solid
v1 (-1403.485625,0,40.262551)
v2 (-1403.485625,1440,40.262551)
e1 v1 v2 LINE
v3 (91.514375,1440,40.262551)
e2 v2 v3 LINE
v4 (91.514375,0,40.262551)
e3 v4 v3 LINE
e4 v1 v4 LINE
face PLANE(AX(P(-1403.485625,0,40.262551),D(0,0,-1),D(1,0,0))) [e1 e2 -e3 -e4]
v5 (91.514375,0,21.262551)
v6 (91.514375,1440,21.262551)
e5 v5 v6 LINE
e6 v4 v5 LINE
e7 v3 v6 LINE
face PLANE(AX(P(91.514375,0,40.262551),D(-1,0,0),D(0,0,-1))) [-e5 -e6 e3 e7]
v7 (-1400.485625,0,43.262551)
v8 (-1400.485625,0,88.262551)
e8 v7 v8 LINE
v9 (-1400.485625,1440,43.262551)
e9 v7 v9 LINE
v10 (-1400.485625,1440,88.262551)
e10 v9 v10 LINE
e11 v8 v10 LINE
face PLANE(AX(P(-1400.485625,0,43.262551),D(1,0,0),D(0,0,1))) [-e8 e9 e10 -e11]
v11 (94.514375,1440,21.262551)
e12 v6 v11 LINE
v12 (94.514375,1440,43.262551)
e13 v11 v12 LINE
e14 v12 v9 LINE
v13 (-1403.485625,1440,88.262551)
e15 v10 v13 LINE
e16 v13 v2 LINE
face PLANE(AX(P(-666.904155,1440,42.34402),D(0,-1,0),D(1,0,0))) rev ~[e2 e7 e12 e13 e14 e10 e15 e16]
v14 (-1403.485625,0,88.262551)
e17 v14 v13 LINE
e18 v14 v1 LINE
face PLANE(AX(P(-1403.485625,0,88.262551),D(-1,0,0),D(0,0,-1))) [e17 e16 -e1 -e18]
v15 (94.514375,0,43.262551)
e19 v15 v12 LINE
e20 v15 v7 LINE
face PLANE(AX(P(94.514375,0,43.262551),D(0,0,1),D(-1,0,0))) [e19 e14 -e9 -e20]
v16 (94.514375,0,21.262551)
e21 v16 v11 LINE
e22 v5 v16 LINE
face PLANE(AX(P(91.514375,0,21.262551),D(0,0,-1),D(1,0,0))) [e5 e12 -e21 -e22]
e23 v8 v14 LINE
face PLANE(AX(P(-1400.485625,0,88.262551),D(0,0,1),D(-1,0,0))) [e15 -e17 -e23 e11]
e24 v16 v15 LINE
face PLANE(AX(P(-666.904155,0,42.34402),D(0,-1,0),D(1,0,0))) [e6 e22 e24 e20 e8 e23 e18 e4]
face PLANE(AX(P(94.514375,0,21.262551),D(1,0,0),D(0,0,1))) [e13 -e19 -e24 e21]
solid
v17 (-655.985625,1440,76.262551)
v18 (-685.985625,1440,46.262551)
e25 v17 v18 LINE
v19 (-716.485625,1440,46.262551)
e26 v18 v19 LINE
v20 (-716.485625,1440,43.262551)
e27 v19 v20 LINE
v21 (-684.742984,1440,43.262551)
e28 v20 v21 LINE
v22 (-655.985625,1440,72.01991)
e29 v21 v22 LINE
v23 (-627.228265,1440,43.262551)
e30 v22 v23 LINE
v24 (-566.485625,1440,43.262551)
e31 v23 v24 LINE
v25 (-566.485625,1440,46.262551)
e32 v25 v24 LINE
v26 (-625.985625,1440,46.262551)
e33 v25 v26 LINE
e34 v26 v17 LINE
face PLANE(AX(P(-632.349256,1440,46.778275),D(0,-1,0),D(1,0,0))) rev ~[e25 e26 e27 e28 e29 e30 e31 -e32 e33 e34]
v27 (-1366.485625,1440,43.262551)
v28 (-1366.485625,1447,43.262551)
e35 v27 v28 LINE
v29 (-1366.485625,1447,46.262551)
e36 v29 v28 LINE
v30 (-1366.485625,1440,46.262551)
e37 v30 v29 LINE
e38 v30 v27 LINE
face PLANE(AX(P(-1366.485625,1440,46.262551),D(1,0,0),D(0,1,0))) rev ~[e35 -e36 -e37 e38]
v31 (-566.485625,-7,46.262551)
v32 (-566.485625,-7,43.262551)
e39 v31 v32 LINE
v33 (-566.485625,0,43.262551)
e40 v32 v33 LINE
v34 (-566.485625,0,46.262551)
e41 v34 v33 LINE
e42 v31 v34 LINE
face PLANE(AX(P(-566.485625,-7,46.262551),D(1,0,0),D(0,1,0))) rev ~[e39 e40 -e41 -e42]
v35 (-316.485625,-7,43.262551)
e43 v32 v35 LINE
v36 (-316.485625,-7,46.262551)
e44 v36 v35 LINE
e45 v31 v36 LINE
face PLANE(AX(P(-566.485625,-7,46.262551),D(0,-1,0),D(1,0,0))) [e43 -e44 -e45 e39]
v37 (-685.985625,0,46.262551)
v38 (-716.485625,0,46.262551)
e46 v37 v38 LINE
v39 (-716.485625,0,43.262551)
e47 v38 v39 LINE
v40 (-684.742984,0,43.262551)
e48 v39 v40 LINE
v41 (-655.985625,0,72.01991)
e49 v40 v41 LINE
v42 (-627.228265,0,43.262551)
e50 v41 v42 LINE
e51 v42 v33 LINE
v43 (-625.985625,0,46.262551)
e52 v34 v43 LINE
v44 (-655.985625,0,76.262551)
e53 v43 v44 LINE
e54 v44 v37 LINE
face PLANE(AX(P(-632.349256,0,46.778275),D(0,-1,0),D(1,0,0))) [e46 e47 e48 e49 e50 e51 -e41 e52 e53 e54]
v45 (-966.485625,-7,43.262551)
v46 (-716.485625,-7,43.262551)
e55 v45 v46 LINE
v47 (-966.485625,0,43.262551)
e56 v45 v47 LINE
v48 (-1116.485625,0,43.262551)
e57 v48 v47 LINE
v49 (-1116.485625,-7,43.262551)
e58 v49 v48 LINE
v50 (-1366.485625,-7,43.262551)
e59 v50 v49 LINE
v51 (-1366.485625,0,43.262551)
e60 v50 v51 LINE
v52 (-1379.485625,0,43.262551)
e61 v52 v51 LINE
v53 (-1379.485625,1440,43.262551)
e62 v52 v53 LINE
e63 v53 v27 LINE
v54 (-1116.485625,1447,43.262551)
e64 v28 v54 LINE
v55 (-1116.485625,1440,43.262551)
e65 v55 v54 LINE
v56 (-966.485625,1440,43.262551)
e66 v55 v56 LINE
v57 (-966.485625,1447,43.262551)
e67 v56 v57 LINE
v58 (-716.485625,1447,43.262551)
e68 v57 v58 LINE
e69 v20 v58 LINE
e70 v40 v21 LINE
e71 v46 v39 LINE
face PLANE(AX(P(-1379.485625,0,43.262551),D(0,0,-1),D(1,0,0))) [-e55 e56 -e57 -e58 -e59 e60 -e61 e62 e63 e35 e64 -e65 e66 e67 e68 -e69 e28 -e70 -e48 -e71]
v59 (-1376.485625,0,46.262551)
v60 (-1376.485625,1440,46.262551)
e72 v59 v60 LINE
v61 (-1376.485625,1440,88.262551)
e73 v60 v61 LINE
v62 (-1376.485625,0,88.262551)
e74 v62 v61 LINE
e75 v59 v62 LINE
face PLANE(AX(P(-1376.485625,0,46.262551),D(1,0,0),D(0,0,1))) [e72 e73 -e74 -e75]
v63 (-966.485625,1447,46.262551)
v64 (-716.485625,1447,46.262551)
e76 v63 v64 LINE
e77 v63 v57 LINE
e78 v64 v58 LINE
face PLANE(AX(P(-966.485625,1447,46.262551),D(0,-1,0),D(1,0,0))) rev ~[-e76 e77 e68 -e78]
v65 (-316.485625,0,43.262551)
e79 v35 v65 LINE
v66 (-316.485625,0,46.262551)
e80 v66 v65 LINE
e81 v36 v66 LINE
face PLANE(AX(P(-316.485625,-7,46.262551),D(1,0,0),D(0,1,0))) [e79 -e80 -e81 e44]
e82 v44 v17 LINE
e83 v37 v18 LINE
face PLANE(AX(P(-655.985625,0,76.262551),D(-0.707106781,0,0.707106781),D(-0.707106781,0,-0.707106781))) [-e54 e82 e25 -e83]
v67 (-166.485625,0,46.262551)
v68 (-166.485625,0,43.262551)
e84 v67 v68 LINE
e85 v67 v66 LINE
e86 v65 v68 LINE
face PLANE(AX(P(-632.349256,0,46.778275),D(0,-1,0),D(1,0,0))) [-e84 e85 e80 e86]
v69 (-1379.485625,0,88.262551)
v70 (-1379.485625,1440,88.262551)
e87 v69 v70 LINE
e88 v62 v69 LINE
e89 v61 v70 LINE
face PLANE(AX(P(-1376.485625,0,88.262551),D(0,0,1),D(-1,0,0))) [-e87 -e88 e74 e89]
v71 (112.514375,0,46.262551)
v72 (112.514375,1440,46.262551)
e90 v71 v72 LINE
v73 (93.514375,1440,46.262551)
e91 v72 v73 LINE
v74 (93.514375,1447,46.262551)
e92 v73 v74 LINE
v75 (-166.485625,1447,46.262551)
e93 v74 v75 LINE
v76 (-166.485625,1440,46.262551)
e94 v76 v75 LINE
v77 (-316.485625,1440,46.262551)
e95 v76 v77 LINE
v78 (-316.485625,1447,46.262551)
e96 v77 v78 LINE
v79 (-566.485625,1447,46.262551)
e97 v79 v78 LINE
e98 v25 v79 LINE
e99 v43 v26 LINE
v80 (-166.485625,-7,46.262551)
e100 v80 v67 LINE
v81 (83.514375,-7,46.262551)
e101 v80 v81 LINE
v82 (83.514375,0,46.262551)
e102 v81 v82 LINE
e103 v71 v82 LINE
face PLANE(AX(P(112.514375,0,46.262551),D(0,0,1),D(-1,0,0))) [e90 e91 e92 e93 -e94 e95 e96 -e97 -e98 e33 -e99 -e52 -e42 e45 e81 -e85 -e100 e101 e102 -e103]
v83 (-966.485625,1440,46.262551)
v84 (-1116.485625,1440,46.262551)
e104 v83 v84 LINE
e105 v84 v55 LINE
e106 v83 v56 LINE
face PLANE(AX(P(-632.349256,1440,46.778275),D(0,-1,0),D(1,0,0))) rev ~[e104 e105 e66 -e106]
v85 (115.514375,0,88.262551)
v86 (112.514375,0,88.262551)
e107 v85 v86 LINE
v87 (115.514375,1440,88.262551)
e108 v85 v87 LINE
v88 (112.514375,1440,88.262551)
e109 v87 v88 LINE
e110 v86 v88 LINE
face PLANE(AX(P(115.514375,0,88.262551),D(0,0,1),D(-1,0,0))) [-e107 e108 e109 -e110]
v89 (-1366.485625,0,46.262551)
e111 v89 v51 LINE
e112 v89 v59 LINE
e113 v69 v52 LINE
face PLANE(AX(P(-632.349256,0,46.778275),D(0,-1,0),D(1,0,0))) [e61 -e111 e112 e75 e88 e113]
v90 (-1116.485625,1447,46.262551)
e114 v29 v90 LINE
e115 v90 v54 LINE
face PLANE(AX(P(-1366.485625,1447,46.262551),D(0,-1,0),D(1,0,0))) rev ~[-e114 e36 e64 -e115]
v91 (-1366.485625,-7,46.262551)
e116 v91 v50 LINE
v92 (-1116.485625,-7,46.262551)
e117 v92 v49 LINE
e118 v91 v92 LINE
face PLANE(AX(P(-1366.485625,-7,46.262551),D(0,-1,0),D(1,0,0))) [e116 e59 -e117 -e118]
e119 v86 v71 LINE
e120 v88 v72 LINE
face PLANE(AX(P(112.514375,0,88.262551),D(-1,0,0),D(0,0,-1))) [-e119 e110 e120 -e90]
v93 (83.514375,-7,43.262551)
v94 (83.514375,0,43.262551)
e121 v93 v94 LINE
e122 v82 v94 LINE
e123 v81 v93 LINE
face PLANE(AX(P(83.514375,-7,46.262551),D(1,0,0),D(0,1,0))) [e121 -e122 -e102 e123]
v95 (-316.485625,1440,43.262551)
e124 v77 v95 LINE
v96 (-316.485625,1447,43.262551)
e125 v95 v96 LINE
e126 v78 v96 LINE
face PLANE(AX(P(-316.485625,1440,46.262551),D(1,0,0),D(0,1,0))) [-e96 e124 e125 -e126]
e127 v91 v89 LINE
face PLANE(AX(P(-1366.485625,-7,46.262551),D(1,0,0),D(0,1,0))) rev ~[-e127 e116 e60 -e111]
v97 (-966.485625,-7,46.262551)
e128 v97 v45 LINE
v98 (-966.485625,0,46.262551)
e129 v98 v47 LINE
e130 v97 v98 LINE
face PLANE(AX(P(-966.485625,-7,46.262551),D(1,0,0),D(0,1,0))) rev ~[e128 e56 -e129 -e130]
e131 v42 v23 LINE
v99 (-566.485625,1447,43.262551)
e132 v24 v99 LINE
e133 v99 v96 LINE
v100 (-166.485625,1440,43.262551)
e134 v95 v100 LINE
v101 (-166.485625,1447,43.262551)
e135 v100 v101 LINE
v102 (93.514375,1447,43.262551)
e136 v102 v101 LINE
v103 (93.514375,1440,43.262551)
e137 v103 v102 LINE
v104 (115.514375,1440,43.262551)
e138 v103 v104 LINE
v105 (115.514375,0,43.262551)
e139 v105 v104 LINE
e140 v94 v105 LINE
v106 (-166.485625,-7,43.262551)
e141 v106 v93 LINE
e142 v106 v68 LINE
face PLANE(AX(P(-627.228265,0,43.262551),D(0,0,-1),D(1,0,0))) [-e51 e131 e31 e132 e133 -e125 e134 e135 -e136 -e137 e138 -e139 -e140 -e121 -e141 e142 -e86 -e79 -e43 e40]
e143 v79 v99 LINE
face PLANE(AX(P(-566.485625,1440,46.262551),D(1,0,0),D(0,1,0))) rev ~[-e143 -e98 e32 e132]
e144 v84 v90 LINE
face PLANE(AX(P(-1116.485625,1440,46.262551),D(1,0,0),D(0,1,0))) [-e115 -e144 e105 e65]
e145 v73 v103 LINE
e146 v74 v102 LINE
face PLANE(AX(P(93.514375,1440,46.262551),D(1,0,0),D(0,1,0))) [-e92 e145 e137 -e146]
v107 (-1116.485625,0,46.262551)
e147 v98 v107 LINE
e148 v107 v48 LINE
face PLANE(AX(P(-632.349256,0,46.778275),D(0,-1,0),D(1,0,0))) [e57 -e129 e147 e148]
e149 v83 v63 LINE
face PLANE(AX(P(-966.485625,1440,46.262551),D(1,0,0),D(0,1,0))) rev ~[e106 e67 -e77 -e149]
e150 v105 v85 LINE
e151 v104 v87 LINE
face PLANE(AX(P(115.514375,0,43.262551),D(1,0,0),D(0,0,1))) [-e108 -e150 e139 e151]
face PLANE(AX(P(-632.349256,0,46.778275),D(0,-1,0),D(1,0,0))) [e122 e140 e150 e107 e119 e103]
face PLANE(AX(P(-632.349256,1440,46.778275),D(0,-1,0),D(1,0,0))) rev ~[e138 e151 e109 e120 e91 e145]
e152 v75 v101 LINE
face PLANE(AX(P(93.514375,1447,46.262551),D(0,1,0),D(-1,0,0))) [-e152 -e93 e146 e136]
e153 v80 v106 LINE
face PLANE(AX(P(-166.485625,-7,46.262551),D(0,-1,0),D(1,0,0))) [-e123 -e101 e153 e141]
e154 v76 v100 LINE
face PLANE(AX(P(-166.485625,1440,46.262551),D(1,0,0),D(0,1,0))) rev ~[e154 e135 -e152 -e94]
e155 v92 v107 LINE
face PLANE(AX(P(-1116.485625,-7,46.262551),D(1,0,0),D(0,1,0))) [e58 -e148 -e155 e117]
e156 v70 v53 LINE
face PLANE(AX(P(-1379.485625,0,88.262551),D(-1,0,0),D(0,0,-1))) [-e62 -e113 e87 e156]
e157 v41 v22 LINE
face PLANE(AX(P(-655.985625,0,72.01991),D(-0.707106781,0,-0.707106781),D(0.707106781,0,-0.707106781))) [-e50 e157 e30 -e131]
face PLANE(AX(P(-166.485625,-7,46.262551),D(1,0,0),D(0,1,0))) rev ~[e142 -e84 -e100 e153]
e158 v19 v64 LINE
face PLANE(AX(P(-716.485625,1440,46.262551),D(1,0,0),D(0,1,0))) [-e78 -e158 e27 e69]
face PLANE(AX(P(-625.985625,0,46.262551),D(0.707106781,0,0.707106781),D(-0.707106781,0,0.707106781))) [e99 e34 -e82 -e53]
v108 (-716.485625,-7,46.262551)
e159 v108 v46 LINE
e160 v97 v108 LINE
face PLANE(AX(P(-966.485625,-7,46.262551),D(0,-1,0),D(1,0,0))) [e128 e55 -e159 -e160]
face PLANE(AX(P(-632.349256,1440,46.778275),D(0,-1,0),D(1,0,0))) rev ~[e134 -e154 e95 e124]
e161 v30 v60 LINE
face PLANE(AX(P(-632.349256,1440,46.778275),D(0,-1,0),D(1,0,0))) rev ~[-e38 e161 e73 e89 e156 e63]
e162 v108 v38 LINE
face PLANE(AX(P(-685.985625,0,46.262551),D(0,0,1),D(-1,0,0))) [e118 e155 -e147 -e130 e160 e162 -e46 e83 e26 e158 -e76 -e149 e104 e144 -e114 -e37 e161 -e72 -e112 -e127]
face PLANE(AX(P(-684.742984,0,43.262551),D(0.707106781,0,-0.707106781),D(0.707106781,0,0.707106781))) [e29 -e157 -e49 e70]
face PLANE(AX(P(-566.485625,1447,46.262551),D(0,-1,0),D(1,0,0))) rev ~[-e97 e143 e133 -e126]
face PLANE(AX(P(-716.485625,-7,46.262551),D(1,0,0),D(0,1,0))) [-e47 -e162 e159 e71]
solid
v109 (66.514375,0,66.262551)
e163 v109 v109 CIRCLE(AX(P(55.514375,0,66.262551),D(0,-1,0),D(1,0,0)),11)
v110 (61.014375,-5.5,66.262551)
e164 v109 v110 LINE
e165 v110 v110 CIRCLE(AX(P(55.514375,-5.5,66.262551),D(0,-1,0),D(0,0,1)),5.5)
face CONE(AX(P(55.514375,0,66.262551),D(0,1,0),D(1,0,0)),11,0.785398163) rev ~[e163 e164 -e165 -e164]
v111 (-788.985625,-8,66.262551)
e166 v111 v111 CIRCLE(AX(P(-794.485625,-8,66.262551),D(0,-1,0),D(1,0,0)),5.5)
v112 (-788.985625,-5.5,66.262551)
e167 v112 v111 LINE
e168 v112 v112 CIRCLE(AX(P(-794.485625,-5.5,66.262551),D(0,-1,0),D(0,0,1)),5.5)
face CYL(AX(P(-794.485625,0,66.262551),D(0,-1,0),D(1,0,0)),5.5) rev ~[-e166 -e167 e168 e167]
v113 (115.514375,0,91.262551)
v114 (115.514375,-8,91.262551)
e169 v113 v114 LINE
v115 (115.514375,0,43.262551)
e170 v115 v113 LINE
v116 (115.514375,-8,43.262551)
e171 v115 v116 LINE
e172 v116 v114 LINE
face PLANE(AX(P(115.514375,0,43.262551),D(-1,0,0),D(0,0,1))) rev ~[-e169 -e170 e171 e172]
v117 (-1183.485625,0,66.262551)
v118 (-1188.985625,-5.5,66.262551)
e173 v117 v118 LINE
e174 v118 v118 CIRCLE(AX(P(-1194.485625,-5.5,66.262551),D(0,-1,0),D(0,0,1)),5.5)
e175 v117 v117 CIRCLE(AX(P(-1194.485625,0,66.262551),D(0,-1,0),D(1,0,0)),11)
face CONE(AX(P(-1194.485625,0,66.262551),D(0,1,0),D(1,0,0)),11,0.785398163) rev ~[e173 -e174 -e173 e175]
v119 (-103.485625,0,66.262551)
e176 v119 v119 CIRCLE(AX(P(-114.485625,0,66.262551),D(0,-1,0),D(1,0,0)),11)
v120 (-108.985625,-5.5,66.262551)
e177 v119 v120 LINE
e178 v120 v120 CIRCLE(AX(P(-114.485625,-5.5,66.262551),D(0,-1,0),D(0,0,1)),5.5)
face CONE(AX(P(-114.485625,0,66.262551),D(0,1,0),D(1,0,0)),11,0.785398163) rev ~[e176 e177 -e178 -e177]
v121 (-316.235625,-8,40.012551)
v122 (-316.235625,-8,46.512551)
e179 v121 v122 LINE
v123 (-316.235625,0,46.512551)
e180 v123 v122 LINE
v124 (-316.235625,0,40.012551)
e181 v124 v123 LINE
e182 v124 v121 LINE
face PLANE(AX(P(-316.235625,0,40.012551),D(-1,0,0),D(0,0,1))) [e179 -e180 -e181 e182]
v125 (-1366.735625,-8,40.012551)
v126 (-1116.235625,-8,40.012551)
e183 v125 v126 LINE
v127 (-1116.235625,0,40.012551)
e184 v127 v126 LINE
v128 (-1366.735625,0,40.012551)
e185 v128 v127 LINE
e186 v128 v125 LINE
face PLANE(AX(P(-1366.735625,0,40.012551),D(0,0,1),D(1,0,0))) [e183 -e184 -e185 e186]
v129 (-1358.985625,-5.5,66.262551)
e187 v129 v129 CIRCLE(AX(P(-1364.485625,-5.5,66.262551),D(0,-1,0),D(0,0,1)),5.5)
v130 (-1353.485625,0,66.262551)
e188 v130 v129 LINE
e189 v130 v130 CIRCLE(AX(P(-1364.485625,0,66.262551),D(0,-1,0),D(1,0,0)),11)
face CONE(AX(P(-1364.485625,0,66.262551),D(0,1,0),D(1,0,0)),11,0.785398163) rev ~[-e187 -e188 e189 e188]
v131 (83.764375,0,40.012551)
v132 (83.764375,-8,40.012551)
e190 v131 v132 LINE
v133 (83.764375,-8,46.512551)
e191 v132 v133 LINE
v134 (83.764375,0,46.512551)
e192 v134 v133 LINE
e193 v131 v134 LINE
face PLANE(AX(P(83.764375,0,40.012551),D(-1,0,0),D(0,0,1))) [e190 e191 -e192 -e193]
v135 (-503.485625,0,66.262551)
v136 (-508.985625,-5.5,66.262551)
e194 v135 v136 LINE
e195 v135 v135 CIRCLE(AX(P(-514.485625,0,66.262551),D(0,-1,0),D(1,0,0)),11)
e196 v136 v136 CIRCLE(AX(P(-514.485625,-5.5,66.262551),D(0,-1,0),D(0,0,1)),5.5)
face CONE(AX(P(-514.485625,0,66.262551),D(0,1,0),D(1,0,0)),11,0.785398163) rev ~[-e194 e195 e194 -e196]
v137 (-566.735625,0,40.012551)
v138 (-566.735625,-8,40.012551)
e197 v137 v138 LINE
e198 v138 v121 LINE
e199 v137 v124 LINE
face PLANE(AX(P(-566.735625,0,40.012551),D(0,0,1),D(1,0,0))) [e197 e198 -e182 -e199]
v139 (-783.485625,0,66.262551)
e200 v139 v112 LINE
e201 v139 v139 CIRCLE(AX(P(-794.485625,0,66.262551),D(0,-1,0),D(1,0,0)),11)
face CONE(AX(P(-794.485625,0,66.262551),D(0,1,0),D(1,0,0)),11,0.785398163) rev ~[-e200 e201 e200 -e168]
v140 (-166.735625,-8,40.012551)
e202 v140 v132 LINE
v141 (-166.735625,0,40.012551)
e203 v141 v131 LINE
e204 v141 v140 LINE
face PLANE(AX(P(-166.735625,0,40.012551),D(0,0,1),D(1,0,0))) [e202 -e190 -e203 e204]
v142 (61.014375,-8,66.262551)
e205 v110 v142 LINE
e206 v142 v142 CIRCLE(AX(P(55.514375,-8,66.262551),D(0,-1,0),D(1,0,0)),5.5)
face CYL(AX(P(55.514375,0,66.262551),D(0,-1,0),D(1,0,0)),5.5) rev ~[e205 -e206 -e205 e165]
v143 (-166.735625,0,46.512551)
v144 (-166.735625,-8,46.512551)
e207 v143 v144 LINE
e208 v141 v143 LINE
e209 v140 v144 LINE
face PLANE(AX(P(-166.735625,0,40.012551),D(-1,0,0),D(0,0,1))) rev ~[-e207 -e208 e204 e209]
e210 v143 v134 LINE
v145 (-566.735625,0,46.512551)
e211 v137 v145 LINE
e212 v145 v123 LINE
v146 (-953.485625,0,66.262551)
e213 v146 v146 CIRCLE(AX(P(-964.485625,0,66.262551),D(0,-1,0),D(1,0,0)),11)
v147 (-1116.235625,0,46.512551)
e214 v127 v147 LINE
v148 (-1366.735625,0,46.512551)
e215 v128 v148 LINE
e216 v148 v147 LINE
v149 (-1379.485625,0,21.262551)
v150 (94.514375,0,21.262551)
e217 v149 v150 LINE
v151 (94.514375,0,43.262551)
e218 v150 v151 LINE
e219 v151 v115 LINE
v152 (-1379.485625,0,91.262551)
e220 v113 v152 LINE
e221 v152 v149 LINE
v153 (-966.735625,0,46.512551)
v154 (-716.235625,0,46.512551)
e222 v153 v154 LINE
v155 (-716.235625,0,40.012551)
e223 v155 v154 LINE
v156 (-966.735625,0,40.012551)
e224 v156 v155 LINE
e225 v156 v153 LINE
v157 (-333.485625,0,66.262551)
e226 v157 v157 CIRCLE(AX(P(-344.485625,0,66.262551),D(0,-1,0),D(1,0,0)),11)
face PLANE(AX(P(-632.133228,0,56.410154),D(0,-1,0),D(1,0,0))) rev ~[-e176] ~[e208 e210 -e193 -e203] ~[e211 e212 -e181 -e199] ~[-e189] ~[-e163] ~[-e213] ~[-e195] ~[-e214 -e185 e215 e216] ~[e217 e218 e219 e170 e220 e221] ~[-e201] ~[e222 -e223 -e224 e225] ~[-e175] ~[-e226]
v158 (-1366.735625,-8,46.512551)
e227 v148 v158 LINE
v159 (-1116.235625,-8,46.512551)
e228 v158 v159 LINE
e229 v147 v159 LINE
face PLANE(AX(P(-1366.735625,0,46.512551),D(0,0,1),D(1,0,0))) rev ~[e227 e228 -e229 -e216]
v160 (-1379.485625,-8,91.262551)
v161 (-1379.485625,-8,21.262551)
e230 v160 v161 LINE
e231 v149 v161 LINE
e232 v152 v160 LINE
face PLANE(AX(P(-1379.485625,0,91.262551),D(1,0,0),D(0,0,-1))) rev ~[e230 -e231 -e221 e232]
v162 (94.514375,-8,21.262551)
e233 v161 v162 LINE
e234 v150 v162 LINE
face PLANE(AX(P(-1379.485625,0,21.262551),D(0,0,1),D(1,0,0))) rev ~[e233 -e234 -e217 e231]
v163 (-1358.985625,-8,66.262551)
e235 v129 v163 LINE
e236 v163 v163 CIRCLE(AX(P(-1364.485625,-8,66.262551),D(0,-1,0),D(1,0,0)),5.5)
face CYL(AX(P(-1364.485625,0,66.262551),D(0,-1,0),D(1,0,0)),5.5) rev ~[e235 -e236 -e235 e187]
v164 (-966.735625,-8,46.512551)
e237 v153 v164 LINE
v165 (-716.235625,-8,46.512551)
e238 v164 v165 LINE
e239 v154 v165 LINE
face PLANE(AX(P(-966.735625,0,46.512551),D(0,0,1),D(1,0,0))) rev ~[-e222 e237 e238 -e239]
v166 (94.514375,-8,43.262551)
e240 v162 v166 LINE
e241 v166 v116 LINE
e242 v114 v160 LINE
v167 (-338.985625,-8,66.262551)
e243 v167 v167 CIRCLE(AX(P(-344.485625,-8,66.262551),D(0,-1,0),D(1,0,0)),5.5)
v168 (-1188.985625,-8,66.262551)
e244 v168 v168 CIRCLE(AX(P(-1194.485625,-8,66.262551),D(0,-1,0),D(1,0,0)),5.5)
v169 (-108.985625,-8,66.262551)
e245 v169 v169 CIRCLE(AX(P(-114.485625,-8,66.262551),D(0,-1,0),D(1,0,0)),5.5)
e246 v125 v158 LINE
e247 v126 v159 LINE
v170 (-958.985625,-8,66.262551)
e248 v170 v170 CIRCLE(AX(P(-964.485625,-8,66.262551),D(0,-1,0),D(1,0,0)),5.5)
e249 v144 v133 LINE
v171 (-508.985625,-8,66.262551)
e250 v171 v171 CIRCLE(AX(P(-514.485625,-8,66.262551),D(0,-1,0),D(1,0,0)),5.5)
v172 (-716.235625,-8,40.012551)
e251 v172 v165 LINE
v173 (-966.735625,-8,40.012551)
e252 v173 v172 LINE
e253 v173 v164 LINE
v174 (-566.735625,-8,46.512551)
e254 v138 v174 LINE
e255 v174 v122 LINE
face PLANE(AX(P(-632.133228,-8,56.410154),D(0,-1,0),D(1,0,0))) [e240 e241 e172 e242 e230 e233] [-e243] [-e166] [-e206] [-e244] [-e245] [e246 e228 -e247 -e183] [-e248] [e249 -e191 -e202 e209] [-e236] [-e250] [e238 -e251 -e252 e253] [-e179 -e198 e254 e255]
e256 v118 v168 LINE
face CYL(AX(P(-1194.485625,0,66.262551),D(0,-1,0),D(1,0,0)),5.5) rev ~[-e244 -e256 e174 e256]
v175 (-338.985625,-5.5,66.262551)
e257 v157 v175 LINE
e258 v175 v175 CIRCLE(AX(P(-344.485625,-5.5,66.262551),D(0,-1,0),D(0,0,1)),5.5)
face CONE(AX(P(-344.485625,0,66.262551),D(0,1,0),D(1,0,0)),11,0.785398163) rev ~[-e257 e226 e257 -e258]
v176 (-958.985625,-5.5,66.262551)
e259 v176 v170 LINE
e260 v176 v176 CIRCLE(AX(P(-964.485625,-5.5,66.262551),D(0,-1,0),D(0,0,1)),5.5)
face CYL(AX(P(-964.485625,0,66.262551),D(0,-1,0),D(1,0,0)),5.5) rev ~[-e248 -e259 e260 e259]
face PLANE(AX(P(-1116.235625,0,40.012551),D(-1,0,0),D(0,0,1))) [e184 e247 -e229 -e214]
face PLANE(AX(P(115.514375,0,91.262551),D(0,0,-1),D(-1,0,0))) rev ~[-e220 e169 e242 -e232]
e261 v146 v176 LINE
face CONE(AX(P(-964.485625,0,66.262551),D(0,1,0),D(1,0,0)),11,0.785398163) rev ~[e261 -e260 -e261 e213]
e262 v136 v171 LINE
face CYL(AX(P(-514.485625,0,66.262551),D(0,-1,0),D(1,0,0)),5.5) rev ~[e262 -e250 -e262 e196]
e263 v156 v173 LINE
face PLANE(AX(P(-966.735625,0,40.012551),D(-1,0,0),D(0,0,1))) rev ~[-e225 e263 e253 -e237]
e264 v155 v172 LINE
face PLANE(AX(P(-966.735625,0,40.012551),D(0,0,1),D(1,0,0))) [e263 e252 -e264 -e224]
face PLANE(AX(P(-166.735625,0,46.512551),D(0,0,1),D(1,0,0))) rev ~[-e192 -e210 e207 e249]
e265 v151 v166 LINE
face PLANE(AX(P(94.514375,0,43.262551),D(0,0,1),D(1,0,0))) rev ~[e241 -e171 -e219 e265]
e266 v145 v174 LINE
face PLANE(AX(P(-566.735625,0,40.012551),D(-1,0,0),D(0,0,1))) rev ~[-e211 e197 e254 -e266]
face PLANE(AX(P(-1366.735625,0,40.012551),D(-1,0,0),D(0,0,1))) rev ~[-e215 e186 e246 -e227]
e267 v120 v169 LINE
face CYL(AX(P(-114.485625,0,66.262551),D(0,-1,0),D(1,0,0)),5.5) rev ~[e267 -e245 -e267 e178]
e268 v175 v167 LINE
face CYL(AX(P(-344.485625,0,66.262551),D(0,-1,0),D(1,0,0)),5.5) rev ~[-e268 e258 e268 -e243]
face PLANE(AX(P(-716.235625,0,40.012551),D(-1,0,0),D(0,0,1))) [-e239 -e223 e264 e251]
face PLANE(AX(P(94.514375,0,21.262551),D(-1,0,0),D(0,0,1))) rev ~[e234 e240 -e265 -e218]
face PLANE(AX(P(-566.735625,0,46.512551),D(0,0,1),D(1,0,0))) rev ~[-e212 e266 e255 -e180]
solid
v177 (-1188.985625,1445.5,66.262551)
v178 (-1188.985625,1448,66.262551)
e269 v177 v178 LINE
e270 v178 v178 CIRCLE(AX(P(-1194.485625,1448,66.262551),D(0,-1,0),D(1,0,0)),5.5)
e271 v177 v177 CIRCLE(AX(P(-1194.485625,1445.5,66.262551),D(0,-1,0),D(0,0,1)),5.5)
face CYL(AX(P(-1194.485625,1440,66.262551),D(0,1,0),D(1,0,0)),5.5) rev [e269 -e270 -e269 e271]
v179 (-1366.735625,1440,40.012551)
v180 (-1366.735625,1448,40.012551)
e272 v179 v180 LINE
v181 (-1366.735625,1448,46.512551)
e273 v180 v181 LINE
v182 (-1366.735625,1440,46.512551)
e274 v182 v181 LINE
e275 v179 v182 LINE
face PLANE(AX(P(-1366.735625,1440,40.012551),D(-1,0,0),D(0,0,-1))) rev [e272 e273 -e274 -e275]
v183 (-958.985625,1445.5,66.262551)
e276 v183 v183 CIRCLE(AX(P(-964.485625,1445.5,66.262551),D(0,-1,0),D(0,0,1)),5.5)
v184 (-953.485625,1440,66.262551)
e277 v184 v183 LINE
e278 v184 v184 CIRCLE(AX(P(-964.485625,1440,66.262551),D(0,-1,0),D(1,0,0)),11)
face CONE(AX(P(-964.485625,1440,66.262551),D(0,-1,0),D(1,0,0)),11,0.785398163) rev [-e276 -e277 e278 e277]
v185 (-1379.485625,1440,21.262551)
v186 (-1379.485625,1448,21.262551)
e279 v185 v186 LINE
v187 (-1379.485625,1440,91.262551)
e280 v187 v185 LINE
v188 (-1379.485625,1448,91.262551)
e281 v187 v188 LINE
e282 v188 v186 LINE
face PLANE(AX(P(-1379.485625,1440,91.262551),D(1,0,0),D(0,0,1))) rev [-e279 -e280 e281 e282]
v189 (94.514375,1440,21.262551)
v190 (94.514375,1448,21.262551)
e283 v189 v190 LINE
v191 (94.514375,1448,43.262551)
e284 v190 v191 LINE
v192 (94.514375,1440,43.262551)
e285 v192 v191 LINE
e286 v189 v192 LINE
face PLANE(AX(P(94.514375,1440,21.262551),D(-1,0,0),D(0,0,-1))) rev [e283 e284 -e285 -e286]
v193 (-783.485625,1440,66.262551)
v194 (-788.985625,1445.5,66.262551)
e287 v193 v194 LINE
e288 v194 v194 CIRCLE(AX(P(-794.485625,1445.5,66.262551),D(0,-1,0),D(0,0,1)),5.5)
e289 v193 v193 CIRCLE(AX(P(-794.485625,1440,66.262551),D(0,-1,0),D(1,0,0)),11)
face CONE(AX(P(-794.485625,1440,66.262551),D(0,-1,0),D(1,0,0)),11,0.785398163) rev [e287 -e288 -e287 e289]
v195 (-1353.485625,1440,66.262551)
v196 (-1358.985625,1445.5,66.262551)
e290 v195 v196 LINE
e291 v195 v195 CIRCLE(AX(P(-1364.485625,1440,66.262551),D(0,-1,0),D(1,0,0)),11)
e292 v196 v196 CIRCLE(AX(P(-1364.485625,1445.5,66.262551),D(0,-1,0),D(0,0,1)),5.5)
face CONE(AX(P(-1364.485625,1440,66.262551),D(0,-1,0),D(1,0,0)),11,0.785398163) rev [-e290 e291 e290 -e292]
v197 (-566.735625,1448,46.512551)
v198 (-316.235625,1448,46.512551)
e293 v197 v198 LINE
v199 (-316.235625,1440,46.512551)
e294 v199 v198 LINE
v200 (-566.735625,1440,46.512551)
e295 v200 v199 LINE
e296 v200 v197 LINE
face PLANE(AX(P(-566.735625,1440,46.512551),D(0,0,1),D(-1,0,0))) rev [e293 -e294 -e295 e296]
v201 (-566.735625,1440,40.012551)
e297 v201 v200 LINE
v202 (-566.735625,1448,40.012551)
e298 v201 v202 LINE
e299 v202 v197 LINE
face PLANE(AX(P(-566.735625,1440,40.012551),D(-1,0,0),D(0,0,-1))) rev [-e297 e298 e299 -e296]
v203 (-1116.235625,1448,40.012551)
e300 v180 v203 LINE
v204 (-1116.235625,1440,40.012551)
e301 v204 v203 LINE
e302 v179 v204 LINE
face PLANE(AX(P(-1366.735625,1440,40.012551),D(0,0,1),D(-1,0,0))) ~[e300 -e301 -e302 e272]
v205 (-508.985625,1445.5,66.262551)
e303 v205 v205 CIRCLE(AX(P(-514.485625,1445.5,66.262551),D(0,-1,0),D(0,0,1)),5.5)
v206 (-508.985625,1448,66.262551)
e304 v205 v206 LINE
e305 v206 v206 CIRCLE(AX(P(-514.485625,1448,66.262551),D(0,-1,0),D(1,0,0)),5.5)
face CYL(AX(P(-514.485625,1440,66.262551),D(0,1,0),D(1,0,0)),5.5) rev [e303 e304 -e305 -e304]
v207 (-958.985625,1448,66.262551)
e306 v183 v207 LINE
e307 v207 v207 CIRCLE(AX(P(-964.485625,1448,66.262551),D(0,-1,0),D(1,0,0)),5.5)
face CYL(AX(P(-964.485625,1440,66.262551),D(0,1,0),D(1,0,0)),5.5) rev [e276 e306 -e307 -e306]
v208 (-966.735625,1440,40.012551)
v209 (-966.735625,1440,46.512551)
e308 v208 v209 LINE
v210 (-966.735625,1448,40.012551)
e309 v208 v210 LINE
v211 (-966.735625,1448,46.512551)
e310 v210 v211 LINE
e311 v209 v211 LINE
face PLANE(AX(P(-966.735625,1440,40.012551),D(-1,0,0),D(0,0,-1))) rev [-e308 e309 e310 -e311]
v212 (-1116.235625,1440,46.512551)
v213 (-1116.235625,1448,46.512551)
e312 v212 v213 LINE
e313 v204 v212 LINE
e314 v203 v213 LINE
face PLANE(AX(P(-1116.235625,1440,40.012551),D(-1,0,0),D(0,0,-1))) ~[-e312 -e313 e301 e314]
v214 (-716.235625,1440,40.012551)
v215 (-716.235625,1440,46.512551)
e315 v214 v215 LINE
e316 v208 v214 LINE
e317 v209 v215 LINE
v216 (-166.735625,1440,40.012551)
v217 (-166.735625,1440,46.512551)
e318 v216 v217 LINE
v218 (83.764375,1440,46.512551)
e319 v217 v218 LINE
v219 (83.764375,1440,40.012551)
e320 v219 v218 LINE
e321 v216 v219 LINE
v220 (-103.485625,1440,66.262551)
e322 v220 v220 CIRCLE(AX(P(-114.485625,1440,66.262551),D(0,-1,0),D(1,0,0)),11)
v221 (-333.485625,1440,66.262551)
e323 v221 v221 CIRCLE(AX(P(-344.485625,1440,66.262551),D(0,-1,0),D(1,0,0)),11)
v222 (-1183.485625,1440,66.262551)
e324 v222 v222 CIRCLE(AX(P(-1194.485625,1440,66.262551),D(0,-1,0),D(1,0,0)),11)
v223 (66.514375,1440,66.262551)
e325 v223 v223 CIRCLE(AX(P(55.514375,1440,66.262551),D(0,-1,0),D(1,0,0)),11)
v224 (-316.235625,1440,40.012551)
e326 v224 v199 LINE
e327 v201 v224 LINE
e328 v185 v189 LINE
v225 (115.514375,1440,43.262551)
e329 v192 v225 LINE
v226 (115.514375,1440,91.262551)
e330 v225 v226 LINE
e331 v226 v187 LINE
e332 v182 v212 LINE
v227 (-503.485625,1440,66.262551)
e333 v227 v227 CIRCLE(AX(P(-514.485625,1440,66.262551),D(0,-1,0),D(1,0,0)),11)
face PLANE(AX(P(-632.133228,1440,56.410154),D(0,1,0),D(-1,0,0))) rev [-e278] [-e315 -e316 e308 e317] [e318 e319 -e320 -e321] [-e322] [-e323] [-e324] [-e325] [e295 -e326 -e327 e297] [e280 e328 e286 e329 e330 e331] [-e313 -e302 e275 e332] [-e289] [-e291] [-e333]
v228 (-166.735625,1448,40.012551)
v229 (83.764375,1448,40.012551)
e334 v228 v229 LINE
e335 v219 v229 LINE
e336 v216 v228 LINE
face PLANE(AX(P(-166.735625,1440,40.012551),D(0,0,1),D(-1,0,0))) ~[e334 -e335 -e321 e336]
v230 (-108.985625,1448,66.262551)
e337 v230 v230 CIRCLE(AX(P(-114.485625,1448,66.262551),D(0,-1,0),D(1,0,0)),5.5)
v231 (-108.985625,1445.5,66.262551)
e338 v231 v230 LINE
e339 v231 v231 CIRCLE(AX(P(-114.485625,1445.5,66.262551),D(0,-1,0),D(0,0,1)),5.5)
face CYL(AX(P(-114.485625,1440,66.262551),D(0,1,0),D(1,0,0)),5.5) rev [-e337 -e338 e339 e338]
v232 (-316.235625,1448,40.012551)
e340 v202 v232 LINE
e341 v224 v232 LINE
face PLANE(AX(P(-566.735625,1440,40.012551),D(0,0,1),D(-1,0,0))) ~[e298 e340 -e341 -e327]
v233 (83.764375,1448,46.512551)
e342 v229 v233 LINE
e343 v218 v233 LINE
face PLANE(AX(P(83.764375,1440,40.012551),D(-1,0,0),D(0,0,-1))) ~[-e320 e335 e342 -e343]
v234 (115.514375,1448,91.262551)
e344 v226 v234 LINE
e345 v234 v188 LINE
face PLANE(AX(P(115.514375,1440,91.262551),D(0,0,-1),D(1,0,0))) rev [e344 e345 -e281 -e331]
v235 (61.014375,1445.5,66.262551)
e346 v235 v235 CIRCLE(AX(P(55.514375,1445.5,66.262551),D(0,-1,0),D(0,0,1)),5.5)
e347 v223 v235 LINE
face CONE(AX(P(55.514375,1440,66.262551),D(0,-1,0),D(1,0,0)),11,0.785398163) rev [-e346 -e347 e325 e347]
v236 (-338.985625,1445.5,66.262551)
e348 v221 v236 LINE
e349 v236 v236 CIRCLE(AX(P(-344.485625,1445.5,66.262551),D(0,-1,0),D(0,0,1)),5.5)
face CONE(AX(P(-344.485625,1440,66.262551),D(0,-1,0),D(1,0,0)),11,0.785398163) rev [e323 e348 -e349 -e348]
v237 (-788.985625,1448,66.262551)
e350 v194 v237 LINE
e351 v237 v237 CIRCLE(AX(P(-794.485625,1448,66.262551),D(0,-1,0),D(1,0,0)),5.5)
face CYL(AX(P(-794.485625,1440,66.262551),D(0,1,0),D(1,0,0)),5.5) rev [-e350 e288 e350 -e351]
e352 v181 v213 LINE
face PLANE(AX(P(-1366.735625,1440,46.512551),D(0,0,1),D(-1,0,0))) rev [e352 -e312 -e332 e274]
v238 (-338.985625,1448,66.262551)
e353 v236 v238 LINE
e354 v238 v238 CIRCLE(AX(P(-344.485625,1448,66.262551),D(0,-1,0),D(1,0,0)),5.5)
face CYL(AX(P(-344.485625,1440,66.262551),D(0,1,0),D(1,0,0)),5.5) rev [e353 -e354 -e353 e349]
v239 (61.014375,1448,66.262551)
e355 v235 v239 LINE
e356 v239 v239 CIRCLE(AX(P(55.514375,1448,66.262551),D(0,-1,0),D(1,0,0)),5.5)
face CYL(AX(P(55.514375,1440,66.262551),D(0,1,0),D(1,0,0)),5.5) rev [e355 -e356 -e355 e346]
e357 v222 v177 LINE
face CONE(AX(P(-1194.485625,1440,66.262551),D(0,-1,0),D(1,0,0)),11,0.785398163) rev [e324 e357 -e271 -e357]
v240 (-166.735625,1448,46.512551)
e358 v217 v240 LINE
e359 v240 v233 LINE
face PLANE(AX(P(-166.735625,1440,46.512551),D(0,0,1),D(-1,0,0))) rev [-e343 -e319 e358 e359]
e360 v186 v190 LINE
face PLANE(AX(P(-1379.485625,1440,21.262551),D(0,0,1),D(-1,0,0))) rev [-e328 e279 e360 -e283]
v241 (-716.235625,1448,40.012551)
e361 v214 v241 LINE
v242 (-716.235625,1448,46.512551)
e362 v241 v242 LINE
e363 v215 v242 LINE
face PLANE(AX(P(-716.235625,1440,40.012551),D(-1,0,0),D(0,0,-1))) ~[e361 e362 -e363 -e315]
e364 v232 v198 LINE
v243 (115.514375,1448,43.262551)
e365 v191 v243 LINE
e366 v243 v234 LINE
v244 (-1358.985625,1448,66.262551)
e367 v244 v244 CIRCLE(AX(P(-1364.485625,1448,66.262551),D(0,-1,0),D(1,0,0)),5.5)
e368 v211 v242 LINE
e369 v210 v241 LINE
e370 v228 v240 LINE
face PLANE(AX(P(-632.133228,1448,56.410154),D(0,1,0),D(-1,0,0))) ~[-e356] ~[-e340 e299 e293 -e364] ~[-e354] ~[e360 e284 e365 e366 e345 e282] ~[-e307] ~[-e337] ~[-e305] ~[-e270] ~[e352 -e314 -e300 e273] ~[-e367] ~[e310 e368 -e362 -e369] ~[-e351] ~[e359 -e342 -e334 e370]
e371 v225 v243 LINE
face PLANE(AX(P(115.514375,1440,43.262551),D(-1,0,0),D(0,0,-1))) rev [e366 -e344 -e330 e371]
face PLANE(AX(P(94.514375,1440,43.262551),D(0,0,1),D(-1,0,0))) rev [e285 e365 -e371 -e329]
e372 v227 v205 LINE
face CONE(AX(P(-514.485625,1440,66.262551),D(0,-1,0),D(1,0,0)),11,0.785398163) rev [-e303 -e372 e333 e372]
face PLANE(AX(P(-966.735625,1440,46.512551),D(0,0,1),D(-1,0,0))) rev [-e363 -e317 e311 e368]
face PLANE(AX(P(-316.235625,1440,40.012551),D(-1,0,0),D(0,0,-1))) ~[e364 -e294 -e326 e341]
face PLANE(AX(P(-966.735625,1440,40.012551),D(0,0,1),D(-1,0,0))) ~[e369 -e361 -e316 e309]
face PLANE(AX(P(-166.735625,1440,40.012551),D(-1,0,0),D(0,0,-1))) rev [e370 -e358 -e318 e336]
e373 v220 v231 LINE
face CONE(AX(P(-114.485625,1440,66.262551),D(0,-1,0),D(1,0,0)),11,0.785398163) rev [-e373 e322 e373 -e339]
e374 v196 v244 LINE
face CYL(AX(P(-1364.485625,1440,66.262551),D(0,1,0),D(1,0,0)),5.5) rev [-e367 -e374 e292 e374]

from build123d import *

# Parameters (mm, degrees)
F1_DEPTH       = 1440
F2_DEPTH       = 1440
F3_W           = 250
F3_H           = 7
F3_W_2         = 60
F3_W_3         = 190
F3_W_4         = 10
F4_DEPTH       = 3
F5_W           = 250.5
F5_H           = 6.5
F6_DEPTH       = 8
F9_D           = 11
F9_CSINK_D     = 22
F9_CSINK_ANGLE = 90


with BuildPart() as f1:
    # F0 (on Front) → F1 (new body)
    with BuildSketch(Plane.XZ):
        Polygon((-1400.4856245518, 88.2625505924), (-1403.4856245518, 88.2625505924), (-1403.4856245518, 40.2625505924), (91.5143754482, 40.2625505924), (91.5143754482, 21.2625505924), (94.5143754482, 21.2625505924), (94.5143754482, 43.2625505924), (-627.2282652389, 43.2625505924), (-684.7429838647, 43.2625505924), (-1379.4856245518, 43.2625505924), (-1400.4856245518, 43.2625505924), align=None)
    extrude(amount=-F1_DEPTH)


with BuildPart() as f2:
    # F0 (on Front) → F2 (new body)
    with BuildSketch(Plane.XZ):
        Polygon((-1379.4856245518, 88.2625505924), (-1379.4856245518, 43.2625505924), (-684.7429838647, 43.2625505924), (-655.9856245518, 72.0199099053), (-627.2282652389, 43.2625505924), (94.5143754482, 43.2625505924), (115.5143754482, 43.2625505924), (115.5143754482, 46.2625505924), (115.5143754482, 88.2625505924), (112.5143754482, 88.2625505924), (112.5143754482, 46.2625505924), (-625.9856245518, 46.2625505924), (-655.9856245518, 76.2625505924), (-685.9856245518, 46.2625505924), (-1376.4856245518, 46.2625505924), (-1376.4856245518, 88.2625505924), align=None)
    extrude(amount=-F2_DEPTH)

    # F3 (on face) → F4 (join)
    with BuildSketch(Plane.XY.offset(46.2625505924)):
        with Locations((-1241.4856245518, -3.5)):
            Rectangle(F3_W, F3_H)
        with Locations((-841.4856245518, -3.5)):
            Rectangle(F3_W, F3_H)
        with Locations((-441.4856245518, -3.5)):
            Rectangle(F3_W, F3_H)
        with Locations((-41.4856245518, -3.5)):
            Rectangle(F3_W, F3_H)
        with Locations((-841.4856245518, 1443.5)):
            Rectangle(F3_W, F3_H)
        with Locations((-1241.4856245518, 1443.5)):
            Rectangle(F3_W, F3_H)
        with Locations((-136.4856245518, 1443.5)):
            Rectangle(F3_W_2, F3_H)
        with Locations((-11.4856245518, 1443.5)):
            Rectangle(F3_W_3, F3_H)
        with Locations((88.5143754482, 1443.5)):
            Rectangle(F3_W_4, F3_H)
        with Locations((-441.4856245518, 1443.5)):
            Rectangle(F3_W, F3_H)
    extrude(amount=-F4_DEPTH)


with BuildPart() as f6:
    # F5 (on face) → F6 (new body)
    with BuildSketch(Plane.XZ):
        Polygon((94.5143754482, 43.2625505924), (115.5143754482, 43.2625505924), (115.5143754482, 91.2625505924), (-1379.4856245518, 91.2625505924), (-1379.4856245518, 21.2625505924), (94.5143754482, 21.2625505924), align=None)
        with Locations((-1241.4856245518, 43.2625505924)):
            Rectangle(F5_W, F5_H, mode=Mode.SUBTRACT)
        with Locations((-841.4856245518, 43.2625505924)):
            Rectangle(F5_W, F5_H, mode=Mode.SUBTRACT)
        with Locations((-441.4856245518, 43.2625505924)):
            Rectangle(F5_W, F5_H, mode=Mode.SUBTRACT)
        with Locations((-41.4856245518, 43.2625505924)):
            Rectangle(F5_W, F5_H, mode=Mode.SUBTRACT)
    extrude(amount=F6_DEPTH)

    # F9 (through all)
    with Locations(Plane(origin=(0, 0, 0), x_dir=(-1, 0, 0), z_dir=(0, 1, 0))):
        with Locations((1364.4856245518, 66.2625505924), (1194.4856245518, 66.2625505924), (964.4856245518, 66.2625505924), (794.4856245518, 66.2625505924), (514.4856245518, 66.2625505924), (344.4856245518, 66.2625505924), (114.4856245518, 66.2625505924), (-55.5143754482, 66.2625505924)):
            CounterSinkHole(F9_D / 2, F9_CSINK_D / 2, counter_sink_angle=F9_CSINK_ANGLE)


with BuildPart() as f10_1:
    # F10: instance of F6
    add(f6.part.mirror(Plane(origin=(0, 720, 0), x_dir=(-1, 0, 0), z_dir=(0, 1, 0))))


solid = Compound([f1.part, f2.part, f6.part, f10_1.part])
